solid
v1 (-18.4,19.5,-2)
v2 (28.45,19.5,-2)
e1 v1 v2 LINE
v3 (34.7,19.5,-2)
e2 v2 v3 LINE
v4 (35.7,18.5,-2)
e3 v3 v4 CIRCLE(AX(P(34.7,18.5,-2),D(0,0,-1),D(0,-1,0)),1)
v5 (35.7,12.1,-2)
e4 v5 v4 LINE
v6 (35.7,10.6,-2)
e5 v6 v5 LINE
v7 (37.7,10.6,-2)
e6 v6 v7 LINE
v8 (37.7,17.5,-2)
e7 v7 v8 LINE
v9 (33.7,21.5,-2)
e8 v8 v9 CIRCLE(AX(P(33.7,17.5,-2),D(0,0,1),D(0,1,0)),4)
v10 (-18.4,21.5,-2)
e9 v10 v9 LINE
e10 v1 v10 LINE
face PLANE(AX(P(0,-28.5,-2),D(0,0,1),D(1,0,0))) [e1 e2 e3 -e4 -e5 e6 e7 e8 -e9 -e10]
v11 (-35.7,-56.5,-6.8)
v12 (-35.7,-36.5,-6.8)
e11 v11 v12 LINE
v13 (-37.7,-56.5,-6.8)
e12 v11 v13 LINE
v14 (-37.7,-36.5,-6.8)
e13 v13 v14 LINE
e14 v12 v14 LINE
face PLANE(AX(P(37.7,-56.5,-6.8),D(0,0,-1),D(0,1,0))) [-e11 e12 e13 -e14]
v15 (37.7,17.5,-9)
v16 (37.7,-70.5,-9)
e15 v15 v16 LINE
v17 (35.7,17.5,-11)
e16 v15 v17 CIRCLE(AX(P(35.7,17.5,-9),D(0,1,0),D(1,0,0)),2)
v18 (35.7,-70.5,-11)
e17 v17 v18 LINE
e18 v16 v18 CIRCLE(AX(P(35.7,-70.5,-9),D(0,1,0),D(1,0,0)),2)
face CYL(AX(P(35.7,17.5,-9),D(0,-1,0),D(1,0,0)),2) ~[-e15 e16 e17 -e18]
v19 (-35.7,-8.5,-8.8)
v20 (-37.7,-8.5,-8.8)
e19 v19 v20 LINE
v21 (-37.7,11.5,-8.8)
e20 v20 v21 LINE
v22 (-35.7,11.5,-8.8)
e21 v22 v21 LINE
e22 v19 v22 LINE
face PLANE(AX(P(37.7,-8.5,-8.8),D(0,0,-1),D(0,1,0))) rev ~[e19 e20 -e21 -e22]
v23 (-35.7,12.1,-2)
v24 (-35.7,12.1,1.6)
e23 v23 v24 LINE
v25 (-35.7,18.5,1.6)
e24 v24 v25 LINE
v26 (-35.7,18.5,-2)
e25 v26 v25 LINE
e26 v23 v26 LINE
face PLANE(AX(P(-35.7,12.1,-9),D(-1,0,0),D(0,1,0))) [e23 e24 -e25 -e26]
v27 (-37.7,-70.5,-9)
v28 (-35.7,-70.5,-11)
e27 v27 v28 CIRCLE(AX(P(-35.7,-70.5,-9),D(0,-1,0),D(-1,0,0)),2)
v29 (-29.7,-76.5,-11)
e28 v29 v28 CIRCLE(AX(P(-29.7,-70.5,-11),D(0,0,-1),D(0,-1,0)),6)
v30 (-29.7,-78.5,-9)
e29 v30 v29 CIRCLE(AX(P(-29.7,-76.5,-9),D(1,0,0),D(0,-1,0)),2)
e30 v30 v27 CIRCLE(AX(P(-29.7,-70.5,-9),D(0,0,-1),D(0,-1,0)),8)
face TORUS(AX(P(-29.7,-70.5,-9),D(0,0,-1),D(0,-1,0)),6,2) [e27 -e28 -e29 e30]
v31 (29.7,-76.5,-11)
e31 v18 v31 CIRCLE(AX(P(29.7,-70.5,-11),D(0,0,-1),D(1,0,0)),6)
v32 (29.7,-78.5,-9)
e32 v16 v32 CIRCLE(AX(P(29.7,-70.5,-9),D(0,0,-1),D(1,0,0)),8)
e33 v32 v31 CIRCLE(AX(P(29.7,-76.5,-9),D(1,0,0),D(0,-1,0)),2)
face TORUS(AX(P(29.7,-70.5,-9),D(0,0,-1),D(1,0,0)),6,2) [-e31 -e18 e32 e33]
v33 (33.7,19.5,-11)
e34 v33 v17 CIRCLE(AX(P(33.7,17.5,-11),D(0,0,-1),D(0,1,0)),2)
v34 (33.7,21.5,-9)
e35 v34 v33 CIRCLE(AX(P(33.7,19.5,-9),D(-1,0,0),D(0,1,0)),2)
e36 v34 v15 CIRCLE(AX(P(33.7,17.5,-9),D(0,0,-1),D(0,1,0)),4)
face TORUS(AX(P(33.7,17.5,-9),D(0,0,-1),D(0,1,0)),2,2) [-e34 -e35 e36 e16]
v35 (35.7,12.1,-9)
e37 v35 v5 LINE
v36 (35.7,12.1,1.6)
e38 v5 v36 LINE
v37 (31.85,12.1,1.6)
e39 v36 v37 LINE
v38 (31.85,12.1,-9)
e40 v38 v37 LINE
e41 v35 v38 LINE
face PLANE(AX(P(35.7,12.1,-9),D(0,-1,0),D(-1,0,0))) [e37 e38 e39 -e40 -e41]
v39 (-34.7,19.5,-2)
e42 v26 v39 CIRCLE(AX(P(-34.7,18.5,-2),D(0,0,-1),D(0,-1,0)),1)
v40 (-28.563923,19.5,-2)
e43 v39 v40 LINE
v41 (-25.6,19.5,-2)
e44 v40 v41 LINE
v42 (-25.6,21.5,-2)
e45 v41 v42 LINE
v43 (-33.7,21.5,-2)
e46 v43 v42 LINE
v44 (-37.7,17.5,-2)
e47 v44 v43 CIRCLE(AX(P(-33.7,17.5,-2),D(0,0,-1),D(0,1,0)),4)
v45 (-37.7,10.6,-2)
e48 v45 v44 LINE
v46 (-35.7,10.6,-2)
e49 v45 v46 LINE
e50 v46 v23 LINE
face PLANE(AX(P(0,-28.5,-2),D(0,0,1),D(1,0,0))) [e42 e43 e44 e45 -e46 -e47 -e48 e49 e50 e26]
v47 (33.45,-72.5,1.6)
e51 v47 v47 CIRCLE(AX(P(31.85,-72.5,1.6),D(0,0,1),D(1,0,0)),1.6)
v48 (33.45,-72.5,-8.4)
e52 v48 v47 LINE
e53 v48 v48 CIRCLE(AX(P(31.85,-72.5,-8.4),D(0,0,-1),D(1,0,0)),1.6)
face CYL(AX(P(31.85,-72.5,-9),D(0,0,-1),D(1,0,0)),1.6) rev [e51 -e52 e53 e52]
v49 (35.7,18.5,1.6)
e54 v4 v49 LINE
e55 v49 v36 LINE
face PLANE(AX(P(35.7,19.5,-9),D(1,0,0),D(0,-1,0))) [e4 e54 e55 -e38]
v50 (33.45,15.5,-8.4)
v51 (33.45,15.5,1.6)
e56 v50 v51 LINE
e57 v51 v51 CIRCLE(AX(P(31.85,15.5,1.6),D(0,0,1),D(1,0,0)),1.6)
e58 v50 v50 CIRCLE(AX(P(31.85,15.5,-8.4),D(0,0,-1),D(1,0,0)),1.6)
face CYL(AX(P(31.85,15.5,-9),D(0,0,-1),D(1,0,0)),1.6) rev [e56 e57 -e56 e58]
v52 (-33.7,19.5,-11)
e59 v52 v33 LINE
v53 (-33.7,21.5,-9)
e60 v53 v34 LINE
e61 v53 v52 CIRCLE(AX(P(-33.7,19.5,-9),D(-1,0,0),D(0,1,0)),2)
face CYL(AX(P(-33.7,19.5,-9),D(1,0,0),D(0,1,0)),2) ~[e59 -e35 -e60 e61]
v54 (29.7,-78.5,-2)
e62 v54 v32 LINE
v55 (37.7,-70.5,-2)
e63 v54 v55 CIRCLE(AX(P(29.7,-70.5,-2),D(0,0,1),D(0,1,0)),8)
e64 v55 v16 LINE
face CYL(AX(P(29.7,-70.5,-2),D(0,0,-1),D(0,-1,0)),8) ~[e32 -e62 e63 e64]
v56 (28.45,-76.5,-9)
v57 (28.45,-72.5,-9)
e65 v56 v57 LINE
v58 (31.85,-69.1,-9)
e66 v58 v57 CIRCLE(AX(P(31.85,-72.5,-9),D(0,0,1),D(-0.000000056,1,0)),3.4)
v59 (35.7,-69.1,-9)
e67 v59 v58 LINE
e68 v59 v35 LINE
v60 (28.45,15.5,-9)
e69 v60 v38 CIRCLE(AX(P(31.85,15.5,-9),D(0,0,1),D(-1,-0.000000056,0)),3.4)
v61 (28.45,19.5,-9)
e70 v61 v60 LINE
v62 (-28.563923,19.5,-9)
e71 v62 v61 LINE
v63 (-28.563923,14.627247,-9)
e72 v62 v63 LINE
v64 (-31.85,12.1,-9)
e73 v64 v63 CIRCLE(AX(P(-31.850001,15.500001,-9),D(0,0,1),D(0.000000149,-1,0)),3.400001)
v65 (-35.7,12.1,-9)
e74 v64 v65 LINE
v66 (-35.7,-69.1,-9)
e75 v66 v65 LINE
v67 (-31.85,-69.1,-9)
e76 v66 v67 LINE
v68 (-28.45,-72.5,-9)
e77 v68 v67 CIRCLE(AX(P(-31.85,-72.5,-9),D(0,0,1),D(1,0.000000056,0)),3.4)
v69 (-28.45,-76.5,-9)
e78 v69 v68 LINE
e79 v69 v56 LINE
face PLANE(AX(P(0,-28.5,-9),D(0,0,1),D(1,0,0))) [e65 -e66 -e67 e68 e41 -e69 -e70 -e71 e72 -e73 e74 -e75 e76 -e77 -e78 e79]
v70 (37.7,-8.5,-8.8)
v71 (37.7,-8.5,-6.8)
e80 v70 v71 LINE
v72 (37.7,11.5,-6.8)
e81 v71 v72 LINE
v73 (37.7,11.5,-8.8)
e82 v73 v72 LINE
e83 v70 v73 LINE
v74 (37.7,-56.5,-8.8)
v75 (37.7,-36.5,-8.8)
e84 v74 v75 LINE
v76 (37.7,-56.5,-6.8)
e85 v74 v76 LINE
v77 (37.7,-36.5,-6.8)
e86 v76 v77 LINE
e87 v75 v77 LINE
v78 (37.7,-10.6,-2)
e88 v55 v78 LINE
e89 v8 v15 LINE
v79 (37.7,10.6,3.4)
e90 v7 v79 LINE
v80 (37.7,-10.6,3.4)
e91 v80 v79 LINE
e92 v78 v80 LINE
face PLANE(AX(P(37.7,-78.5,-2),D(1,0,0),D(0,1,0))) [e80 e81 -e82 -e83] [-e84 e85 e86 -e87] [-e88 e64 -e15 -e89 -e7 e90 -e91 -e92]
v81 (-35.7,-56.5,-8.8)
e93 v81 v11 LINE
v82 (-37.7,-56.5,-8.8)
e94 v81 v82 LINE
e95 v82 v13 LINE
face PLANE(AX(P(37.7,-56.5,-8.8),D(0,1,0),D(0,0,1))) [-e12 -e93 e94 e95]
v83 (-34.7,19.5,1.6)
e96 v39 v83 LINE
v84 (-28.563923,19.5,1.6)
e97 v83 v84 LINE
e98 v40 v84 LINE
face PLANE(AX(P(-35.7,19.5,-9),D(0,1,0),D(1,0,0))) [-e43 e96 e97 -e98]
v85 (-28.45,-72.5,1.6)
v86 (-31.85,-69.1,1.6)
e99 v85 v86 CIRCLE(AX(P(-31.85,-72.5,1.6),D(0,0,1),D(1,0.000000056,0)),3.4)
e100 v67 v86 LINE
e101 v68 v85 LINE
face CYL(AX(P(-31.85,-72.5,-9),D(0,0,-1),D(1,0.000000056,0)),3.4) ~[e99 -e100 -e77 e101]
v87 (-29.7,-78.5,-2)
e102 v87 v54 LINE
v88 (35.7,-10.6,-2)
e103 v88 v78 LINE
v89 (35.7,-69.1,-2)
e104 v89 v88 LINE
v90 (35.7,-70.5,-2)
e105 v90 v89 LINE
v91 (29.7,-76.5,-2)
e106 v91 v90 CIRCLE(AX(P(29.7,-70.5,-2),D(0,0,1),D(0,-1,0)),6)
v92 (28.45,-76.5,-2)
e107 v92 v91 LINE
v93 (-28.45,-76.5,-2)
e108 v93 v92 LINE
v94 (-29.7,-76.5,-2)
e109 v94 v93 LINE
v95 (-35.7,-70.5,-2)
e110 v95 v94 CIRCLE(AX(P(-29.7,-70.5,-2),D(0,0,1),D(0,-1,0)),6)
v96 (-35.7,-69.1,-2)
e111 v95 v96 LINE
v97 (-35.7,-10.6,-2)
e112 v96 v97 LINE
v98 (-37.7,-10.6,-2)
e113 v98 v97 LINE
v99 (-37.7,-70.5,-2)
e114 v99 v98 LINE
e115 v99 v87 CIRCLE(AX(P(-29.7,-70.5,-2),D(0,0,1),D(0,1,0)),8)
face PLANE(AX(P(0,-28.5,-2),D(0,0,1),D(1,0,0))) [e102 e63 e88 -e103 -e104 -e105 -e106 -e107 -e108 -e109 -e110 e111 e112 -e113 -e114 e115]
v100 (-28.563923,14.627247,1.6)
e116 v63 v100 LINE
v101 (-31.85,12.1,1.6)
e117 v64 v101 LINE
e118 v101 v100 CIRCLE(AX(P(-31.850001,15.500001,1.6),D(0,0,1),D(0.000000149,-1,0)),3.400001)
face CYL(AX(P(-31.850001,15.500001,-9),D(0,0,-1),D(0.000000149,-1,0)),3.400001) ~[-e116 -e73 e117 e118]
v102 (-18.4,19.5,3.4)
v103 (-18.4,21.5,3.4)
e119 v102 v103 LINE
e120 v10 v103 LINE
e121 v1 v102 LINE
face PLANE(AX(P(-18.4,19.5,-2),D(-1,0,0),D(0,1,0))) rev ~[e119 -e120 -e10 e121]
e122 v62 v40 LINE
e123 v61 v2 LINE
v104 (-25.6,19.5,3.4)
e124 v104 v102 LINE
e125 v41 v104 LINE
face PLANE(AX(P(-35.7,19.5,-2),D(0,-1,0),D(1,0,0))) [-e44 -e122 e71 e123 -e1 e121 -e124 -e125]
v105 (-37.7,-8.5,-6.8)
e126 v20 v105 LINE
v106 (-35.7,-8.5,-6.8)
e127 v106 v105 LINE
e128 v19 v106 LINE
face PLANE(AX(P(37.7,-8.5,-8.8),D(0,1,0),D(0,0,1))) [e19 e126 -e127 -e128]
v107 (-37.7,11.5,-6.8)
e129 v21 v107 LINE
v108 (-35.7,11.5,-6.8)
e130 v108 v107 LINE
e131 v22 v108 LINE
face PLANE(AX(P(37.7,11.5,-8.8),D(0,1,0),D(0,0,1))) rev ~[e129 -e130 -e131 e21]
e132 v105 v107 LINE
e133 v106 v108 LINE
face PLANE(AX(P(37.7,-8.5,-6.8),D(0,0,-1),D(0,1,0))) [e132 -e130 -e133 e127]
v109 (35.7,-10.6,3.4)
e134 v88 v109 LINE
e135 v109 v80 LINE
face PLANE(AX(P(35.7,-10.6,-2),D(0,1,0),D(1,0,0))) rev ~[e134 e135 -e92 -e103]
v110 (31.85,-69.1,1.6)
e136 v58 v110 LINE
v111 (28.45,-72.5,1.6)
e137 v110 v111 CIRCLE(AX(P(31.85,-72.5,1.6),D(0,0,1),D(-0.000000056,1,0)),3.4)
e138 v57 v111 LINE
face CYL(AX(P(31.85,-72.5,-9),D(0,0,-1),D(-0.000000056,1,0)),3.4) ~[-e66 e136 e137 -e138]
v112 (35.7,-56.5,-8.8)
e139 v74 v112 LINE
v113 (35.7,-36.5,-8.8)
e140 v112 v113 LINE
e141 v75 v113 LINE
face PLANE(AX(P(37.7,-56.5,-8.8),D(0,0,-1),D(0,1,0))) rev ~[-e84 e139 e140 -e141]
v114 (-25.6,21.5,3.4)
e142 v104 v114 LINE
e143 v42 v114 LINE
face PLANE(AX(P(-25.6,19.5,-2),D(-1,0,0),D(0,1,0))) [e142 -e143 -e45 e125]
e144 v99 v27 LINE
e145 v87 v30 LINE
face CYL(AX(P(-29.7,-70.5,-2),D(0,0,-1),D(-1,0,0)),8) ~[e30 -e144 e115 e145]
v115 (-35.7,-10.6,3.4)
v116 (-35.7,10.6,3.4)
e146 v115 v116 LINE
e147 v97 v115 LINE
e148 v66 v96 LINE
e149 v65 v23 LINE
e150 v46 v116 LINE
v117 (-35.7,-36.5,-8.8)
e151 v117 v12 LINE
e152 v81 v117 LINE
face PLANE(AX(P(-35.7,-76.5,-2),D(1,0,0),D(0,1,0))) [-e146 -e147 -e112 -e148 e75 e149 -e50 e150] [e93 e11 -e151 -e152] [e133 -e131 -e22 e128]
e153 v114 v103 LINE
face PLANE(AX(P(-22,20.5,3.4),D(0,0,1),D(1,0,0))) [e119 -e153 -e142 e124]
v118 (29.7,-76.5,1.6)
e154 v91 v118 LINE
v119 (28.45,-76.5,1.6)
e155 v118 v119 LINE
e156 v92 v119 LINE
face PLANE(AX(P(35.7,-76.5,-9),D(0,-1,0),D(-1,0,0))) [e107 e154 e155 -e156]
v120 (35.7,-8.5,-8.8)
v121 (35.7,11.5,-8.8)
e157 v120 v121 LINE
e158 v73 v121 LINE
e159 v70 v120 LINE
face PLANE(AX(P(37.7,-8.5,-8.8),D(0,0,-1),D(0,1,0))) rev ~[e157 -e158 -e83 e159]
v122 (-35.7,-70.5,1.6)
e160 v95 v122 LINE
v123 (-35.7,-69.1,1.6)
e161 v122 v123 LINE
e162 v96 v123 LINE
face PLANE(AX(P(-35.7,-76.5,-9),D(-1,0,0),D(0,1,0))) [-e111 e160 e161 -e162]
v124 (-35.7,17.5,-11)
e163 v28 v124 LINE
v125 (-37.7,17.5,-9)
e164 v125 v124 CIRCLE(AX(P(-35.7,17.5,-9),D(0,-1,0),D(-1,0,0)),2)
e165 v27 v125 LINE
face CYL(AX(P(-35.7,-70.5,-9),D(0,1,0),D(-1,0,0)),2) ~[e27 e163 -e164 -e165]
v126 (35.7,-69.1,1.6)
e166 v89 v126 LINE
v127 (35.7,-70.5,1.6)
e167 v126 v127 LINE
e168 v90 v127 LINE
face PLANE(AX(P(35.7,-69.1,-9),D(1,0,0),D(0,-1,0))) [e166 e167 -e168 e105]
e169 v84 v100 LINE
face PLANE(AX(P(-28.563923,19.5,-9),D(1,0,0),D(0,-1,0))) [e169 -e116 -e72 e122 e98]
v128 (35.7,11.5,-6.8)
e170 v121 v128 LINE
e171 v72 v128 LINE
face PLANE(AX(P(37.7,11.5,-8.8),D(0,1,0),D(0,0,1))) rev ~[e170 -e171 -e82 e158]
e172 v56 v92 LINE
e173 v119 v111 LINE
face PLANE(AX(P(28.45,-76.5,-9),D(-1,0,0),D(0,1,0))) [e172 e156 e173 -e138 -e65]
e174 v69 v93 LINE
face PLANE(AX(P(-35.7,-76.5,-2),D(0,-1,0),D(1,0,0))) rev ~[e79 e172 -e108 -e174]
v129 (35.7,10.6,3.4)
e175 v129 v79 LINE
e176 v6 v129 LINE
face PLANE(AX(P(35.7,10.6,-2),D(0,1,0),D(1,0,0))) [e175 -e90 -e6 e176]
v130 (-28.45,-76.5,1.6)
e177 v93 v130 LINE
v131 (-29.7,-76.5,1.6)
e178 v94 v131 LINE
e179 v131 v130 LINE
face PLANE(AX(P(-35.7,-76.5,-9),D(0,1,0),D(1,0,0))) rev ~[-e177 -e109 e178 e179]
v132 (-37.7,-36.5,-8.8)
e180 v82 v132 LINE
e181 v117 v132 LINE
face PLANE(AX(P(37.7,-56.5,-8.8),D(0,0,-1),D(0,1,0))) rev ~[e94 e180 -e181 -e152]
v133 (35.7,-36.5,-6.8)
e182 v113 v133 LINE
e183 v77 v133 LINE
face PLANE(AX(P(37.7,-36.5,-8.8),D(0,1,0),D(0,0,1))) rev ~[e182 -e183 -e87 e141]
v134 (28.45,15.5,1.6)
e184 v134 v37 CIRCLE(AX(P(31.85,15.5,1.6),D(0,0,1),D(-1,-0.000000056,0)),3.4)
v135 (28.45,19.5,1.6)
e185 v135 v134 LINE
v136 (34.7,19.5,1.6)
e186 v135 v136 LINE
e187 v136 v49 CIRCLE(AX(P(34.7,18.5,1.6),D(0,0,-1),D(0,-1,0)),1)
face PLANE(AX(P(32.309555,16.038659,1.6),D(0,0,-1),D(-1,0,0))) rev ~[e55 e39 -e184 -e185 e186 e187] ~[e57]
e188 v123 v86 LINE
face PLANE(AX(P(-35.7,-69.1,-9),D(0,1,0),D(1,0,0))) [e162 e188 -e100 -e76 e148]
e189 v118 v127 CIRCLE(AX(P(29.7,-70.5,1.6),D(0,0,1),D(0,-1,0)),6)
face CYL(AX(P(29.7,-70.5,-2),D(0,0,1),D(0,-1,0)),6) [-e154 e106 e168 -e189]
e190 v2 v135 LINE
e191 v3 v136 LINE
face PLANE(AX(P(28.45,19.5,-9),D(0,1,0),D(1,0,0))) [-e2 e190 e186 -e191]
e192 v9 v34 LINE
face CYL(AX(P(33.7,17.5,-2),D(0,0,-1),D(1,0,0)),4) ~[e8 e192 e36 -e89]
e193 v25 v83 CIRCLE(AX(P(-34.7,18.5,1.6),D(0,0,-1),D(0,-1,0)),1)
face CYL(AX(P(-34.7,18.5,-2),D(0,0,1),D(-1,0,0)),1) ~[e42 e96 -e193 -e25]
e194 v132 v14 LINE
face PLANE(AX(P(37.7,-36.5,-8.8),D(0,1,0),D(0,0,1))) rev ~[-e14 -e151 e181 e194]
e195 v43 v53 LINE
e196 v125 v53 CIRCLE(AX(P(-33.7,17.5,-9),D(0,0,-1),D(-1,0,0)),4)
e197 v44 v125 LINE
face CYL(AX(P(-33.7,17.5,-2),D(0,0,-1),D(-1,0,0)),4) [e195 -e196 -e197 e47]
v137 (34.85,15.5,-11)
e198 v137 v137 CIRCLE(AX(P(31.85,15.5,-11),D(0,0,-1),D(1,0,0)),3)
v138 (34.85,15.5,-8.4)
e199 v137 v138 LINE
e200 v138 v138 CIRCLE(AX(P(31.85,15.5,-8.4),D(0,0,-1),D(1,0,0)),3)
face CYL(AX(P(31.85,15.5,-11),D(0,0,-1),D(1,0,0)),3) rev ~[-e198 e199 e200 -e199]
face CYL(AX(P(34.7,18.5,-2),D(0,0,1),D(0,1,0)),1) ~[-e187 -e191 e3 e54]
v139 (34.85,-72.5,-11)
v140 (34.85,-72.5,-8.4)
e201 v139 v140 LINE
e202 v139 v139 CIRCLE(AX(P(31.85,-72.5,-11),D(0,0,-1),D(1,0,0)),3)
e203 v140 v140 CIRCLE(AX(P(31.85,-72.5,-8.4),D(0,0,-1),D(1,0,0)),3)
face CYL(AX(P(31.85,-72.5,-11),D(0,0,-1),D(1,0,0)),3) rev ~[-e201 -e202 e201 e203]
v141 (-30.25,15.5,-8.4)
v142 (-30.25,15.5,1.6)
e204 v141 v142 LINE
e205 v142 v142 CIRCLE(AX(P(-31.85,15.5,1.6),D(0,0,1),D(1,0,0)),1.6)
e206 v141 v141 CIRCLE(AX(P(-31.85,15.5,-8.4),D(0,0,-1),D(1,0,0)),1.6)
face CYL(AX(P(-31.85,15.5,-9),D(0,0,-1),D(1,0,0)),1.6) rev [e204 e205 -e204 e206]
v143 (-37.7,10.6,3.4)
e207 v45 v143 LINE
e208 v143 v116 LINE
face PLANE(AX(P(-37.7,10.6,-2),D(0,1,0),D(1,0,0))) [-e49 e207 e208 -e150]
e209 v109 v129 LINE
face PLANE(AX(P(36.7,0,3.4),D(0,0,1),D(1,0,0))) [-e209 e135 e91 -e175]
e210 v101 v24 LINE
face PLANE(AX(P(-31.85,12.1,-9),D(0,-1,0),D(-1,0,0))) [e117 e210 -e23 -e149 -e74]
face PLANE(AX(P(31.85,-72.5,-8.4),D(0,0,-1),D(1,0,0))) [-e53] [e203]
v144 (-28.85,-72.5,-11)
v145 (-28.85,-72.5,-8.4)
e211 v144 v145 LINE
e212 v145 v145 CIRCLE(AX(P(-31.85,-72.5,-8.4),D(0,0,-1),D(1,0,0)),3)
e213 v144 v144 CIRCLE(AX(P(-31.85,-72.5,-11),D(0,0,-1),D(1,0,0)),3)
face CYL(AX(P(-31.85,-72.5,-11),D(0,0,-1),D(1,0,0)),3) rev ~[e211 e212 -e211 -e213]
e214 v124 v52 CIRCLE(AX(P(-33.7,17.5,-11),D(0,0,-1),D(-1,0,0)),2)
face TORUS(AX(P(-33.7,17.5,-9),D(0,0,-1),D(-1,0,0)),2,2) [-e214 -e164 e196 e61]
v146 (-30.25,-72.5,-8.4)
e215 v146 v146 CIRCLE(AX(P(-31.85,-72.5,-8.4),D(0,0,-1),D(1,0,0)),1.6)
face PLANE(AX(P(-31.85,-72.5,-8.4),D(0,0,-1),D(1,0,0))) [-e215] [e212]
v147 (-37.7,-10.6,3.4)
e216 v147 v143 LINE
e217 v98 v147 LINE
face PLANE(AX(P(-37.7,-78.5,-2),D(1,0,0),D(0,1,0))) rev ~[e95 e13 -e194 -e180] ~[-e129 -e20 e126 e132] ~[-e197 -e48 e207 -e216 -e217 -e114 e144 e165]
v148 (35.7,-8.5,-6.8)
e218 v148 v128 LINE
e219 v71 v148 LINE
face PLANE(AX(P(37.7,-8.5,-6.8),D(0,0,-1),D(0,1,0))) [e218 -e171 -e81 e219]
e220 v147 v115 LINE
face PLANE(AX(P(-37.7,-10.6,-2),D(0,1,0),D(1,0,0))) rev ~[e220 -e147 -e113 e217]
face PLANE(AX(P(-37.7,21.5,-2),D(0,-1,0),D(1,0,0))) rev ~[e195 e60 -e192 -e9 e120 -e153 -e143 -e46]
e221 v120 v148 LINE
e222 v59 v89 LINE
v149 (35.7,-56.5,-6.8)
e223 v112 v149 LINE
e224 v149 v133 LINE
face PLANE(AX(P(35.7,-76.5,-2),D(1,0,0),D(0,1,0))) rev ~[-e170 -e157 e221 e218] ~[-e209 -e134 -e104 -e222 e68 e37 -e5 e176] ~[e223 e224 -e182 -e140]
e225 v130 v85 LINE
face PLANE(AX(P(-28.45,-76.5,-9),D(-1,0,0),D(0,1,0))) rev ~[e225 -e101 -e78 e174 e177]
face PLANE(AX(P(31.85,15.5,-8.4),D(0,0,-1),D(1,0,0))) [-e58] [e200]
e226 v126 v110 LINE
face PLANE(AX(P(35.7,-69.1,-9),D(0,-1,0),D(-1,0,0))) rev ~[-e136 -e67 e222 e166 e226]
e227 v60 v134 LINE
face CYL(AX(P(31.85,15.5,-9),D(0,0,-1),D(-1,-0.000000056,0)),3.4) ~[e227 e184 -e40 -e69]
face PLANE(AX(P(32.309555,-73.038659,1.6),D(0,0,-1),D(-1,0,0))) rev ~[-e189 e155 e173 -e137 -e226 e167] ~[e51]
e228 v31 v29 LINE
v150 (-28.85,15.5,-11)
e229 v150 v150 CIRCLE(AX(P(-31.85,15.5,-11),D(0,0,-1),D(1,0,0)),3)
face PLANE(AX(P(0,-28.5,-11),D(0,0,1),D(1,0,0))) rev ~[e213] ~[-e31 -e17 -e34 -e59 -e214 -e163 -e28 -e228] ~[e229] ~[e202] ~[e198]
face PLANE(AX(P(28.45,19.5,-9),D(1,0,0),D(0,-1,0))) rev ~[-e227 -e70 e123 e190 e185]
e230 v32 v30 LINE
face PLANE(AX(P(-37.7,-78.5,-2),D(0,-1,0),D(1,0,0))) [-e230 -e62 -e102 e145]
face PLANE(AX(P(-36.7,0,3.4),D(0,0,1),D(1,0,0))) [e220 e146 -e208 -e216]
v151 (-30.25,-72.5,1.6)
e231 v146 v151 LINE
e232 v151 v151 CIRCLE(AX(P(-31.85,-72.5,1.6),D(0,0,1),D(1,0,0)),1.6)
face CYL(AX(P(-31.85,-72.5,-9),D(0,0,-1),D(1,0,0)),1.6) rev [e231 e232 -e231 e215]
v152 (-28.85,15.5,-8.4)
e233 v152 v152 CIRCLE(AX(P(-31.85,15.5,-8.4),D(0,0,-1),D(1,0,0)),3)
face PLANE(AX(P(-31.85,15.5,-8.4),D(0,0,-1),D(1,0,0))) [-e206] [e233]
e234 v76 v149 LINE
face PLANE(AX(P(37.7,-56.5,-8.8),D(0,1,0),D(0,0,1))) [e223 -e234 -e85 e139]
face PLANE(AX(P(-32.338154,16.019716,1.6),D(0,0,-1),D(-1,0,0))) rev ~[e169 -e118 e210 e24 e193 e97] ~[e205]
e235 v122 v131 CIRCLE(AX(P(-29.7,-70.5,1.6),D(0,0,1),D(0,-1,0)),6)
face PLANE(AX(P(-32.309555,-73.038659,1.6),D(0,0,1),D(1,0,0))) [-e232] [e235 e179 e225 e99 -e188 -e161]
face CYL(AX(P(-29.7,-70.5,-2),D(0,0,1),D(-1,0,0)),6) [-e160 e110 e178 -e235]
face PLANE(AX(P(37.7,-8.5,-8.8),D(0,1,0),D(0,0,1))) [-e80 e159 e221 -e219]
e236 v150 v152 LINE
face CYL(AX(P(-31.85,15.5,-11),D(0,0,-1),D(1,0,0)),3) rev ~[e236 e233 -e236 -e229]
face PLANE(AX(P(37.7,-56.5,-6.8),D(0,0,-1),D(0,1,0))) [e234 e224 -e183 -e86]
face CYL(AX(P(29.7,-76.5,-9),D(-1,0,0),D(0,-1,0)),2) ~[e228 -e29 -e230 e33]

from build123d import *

# Parameters (mm, degrees)
SKETCH014_W     = 75.4
SKETCH014_H     = 100
PAD008_DEPTH    = 9
SKETCH015_W     = 71.4
SKETCH015_H     = 96
POCKET006_DEPTH = 7
SKETCH016_W     = 2
SKETCH016_H     = 21.2
SKETCH016_W_2   = 7.2
SKETCH016_H_2   = 2
PAD009_DEPTH    = 5.4
SKETCH017_W     = 20
SKETCH017_H     = 2
POCKET007_DEPTH = 75.401
SKETCH018_R     = 1.6
PAD010_DEPTH    = 10.6
SKETCH019_R     = 3
POCKET008_DEPTH = 2.6
FILLET006_R     = 1
FILLET007_R     = 6
FILLET008_R     = 4
FILLET009_R     = 8
FILLET010_R     = 2


with BuildPart() as part:
    # Sketch014 → Pad008 (new body)
    with BuildSketch(Plane.XY):
        with Locations((0, -28.5)):
            Rectangle(SKETCH014_W, SKETCH014_H)
    extrude(amount=-PAD008_DEPTH)

    # Sketch015 (on Face5 of Pad008) → Pocket006 (cut)
    with BuildSketch(Plane.XY):
        with Locations((0, -28.5)):
            Rectangle(SKETCH015_W, SKETCH015_H)
    extrude(amount=-POCKET006_DEPTH, mode=Mode.SUBTRACT)

    # Sketch016 (on Face4 of Pocket006) → Pad009 (join)
    with BuildSketch(Plane.XY):
        with Locations((-36.7, 0)):
            Rectangle(SKETCH016_W, SKETCH016_H)
        with Locations((36.7, 0)):
            Rectangle(SKETCH016_W, SKETCH016_H)
        with Locations((-22, 20.5)):
            Rectangle(SKETCH016_W_2, SKETCH016_H_2)
    extrude(amount=PAD009_DEPTH)

    # Sketch017 (on Face3 of Pad009) → Pocket007 (cut, through all)
    with BuildSketch(Plane.YZ.offset(37.7)):
        with Locations((-46.5, -5.8)):
            Rectangle(SKETCH017_W, SKETCH017_H)
        with Locations((1.5, -5.8)):
            Rectangle(SKETCH017_W, SKETCH017_H)
    extrude(amount=-POCKET007_DEPTH, mode=Mode.SUBTRACT)

    # Sketch018 (on Face42 of Pocket007) → Pad010 (join)
    with BuildSketch(Plane.XY.offset(-7)):
        with BuildLine():
            Line((-31.85, 12.1), (-35.7, 12.1))
            Line((-35.7, 12.1), (-35.7, 19.5))
            Line((-35.7, 19.5), (-28.563923, 19.5))
            Line((-28.563923, 19.5), (-28.563923, 14.627247))
            ThreePointArc((-31.85, 12.1), (-29.777243, 12.804879), (-28.563923, 14.627247))
        make_face()
        with Locations((-31.85, 15.5)):
            Circle(SKETCH018_R, mode=Mode.SUBTRACT)
        with BuildLine():
            Line((28.45, 19.5), (35.7, 19.5))
            Line((35.7, 19.5), (35.7, 12.1))
            Line((35.7, 12.1), (31.85, 12.1))
            ThreePointArc((28.45, 15.5), (29.445837, 13.095837), (31.85, 12.1))
            Line((28.45, 19.5), (28.45, 15.5))
        make_face()
        with Locations((31.85, 15.5)):
            Circle(SKETCH018_R, mode=Mode.SUBTRACT)
        with BuildLine():
            Line((35.7, -69.1), (35.7, -76.5))
            Line((35.7, -76.5), (28.45, -76.5))
            Line((28.45, -76.5), (28.45, -72.5))
            ThreePointArc((31.85, -69.1), (29.445837, -70.095837), (28.45, -72.5))
            Line((35.7, -69.1), (31.85, -69.1))
        make_face()
        with Locations((31.85, -72.5)):
            Circle(SKETCH018_R, mode=Mode.SUBTRACT)
        with BuildLine():
            Line((-35.7, -76.5), (-28.45, -76.5))
            Line((-28.45, -76.5), (-28.45, -72.5))
            ThreePointArc((-28.45, -72.5), (-29.445837, -70.095837), (-31.85, -69.1))
            Line((-35.7, -69.1), (-31.85, -69.1))
            Line((-35.7, -76.5), (-35.7, -69.1))
        make_face()
        with Locations((-31.85, -72.5)):
            Circle(SKETCH018_R, mode=Mode.SUBTRACT)
    extrude(amount=PAD010_DEPTH)

    # Sketch019 (on Face7 of Pad010) → Pocket008 (cut)
    with BuildSketch(Plane(origin=(0, 0, -9), x_dir=(1, 0, 0), z_dir=(0, 0, -1))):
        with Locations((-31.85, 72.5)):
            Circle(SKETCH019_R)
        with Locations((31.85, 72.5)):
            Circle(SKETCH019_R)
        with Locations((-31.85, -15.5)):
            Circle(SKETCH019_R)
        with Locations((31.85, -15.5)):
            Circle(SKETCH019_R)
    extrude(amount=-POCKET008_DEPTH, mode=Mode.SUBTRACT)

    # Fillet006
    fillet006_edges = [part.edges().sort_by_distance(p)[0] for p in [
        (-35.7, 19.5, 1.8),
        (35.7, 19.5, 1.8),
    ]]
    fillet(fillet006_edges, radius=FILLET006_R)

    # Fillet007
    fillet007_edges = [part.edges().sort_by_distance(p)[0] for p in [
        (35.7, -76.5, 1.8),
        (-35.7, -76.5, 1.8),
    ]]
    fillet(fillet007_edges, radius=FILLET007_R)

    # Fillet008
    fillet008_edges = [part.edges().sort_by_distance(p)[0] for p in [
        (-37.7, 21.5, -4.5),
        (37.7, 21.5, -4.5),
    ]]
    fillet(fillet008_edges, radius=FILLET008_R)

    # Fillet009
    fillet009_edges = [part.edges().sort_by_distance(p)[0] for p in [
        (-37.7, -78.5, -4.5),
        (37.7, -78.5, -4.5),
    ]]
    fillet(fillet009_edges, radius=FILLET009_R)

    # Fillet010
    fillet010_edges = [part.edges().sort_by_distance(p)[0] for p in [
        (-37.7, -26.5, -9),
        (-36.528427, 20.328427, -9),
        (0, 21.5, -9),
        (36.528427, 20.328427, -9),
        (37.7, -26.5, -9),
        (35.356854, -76.156854, -9),
        (0, -78.5, -9),
        (-35.356854, -76.156854, -9),
    ]]
    fillet(fillet010_edges, radius=FILLET010_R)


with BuildPart() as part_1:
    # Body004 placement: moved
    add(part.part.moved(Location((0, 0, -2))))


solid = part_1.part
